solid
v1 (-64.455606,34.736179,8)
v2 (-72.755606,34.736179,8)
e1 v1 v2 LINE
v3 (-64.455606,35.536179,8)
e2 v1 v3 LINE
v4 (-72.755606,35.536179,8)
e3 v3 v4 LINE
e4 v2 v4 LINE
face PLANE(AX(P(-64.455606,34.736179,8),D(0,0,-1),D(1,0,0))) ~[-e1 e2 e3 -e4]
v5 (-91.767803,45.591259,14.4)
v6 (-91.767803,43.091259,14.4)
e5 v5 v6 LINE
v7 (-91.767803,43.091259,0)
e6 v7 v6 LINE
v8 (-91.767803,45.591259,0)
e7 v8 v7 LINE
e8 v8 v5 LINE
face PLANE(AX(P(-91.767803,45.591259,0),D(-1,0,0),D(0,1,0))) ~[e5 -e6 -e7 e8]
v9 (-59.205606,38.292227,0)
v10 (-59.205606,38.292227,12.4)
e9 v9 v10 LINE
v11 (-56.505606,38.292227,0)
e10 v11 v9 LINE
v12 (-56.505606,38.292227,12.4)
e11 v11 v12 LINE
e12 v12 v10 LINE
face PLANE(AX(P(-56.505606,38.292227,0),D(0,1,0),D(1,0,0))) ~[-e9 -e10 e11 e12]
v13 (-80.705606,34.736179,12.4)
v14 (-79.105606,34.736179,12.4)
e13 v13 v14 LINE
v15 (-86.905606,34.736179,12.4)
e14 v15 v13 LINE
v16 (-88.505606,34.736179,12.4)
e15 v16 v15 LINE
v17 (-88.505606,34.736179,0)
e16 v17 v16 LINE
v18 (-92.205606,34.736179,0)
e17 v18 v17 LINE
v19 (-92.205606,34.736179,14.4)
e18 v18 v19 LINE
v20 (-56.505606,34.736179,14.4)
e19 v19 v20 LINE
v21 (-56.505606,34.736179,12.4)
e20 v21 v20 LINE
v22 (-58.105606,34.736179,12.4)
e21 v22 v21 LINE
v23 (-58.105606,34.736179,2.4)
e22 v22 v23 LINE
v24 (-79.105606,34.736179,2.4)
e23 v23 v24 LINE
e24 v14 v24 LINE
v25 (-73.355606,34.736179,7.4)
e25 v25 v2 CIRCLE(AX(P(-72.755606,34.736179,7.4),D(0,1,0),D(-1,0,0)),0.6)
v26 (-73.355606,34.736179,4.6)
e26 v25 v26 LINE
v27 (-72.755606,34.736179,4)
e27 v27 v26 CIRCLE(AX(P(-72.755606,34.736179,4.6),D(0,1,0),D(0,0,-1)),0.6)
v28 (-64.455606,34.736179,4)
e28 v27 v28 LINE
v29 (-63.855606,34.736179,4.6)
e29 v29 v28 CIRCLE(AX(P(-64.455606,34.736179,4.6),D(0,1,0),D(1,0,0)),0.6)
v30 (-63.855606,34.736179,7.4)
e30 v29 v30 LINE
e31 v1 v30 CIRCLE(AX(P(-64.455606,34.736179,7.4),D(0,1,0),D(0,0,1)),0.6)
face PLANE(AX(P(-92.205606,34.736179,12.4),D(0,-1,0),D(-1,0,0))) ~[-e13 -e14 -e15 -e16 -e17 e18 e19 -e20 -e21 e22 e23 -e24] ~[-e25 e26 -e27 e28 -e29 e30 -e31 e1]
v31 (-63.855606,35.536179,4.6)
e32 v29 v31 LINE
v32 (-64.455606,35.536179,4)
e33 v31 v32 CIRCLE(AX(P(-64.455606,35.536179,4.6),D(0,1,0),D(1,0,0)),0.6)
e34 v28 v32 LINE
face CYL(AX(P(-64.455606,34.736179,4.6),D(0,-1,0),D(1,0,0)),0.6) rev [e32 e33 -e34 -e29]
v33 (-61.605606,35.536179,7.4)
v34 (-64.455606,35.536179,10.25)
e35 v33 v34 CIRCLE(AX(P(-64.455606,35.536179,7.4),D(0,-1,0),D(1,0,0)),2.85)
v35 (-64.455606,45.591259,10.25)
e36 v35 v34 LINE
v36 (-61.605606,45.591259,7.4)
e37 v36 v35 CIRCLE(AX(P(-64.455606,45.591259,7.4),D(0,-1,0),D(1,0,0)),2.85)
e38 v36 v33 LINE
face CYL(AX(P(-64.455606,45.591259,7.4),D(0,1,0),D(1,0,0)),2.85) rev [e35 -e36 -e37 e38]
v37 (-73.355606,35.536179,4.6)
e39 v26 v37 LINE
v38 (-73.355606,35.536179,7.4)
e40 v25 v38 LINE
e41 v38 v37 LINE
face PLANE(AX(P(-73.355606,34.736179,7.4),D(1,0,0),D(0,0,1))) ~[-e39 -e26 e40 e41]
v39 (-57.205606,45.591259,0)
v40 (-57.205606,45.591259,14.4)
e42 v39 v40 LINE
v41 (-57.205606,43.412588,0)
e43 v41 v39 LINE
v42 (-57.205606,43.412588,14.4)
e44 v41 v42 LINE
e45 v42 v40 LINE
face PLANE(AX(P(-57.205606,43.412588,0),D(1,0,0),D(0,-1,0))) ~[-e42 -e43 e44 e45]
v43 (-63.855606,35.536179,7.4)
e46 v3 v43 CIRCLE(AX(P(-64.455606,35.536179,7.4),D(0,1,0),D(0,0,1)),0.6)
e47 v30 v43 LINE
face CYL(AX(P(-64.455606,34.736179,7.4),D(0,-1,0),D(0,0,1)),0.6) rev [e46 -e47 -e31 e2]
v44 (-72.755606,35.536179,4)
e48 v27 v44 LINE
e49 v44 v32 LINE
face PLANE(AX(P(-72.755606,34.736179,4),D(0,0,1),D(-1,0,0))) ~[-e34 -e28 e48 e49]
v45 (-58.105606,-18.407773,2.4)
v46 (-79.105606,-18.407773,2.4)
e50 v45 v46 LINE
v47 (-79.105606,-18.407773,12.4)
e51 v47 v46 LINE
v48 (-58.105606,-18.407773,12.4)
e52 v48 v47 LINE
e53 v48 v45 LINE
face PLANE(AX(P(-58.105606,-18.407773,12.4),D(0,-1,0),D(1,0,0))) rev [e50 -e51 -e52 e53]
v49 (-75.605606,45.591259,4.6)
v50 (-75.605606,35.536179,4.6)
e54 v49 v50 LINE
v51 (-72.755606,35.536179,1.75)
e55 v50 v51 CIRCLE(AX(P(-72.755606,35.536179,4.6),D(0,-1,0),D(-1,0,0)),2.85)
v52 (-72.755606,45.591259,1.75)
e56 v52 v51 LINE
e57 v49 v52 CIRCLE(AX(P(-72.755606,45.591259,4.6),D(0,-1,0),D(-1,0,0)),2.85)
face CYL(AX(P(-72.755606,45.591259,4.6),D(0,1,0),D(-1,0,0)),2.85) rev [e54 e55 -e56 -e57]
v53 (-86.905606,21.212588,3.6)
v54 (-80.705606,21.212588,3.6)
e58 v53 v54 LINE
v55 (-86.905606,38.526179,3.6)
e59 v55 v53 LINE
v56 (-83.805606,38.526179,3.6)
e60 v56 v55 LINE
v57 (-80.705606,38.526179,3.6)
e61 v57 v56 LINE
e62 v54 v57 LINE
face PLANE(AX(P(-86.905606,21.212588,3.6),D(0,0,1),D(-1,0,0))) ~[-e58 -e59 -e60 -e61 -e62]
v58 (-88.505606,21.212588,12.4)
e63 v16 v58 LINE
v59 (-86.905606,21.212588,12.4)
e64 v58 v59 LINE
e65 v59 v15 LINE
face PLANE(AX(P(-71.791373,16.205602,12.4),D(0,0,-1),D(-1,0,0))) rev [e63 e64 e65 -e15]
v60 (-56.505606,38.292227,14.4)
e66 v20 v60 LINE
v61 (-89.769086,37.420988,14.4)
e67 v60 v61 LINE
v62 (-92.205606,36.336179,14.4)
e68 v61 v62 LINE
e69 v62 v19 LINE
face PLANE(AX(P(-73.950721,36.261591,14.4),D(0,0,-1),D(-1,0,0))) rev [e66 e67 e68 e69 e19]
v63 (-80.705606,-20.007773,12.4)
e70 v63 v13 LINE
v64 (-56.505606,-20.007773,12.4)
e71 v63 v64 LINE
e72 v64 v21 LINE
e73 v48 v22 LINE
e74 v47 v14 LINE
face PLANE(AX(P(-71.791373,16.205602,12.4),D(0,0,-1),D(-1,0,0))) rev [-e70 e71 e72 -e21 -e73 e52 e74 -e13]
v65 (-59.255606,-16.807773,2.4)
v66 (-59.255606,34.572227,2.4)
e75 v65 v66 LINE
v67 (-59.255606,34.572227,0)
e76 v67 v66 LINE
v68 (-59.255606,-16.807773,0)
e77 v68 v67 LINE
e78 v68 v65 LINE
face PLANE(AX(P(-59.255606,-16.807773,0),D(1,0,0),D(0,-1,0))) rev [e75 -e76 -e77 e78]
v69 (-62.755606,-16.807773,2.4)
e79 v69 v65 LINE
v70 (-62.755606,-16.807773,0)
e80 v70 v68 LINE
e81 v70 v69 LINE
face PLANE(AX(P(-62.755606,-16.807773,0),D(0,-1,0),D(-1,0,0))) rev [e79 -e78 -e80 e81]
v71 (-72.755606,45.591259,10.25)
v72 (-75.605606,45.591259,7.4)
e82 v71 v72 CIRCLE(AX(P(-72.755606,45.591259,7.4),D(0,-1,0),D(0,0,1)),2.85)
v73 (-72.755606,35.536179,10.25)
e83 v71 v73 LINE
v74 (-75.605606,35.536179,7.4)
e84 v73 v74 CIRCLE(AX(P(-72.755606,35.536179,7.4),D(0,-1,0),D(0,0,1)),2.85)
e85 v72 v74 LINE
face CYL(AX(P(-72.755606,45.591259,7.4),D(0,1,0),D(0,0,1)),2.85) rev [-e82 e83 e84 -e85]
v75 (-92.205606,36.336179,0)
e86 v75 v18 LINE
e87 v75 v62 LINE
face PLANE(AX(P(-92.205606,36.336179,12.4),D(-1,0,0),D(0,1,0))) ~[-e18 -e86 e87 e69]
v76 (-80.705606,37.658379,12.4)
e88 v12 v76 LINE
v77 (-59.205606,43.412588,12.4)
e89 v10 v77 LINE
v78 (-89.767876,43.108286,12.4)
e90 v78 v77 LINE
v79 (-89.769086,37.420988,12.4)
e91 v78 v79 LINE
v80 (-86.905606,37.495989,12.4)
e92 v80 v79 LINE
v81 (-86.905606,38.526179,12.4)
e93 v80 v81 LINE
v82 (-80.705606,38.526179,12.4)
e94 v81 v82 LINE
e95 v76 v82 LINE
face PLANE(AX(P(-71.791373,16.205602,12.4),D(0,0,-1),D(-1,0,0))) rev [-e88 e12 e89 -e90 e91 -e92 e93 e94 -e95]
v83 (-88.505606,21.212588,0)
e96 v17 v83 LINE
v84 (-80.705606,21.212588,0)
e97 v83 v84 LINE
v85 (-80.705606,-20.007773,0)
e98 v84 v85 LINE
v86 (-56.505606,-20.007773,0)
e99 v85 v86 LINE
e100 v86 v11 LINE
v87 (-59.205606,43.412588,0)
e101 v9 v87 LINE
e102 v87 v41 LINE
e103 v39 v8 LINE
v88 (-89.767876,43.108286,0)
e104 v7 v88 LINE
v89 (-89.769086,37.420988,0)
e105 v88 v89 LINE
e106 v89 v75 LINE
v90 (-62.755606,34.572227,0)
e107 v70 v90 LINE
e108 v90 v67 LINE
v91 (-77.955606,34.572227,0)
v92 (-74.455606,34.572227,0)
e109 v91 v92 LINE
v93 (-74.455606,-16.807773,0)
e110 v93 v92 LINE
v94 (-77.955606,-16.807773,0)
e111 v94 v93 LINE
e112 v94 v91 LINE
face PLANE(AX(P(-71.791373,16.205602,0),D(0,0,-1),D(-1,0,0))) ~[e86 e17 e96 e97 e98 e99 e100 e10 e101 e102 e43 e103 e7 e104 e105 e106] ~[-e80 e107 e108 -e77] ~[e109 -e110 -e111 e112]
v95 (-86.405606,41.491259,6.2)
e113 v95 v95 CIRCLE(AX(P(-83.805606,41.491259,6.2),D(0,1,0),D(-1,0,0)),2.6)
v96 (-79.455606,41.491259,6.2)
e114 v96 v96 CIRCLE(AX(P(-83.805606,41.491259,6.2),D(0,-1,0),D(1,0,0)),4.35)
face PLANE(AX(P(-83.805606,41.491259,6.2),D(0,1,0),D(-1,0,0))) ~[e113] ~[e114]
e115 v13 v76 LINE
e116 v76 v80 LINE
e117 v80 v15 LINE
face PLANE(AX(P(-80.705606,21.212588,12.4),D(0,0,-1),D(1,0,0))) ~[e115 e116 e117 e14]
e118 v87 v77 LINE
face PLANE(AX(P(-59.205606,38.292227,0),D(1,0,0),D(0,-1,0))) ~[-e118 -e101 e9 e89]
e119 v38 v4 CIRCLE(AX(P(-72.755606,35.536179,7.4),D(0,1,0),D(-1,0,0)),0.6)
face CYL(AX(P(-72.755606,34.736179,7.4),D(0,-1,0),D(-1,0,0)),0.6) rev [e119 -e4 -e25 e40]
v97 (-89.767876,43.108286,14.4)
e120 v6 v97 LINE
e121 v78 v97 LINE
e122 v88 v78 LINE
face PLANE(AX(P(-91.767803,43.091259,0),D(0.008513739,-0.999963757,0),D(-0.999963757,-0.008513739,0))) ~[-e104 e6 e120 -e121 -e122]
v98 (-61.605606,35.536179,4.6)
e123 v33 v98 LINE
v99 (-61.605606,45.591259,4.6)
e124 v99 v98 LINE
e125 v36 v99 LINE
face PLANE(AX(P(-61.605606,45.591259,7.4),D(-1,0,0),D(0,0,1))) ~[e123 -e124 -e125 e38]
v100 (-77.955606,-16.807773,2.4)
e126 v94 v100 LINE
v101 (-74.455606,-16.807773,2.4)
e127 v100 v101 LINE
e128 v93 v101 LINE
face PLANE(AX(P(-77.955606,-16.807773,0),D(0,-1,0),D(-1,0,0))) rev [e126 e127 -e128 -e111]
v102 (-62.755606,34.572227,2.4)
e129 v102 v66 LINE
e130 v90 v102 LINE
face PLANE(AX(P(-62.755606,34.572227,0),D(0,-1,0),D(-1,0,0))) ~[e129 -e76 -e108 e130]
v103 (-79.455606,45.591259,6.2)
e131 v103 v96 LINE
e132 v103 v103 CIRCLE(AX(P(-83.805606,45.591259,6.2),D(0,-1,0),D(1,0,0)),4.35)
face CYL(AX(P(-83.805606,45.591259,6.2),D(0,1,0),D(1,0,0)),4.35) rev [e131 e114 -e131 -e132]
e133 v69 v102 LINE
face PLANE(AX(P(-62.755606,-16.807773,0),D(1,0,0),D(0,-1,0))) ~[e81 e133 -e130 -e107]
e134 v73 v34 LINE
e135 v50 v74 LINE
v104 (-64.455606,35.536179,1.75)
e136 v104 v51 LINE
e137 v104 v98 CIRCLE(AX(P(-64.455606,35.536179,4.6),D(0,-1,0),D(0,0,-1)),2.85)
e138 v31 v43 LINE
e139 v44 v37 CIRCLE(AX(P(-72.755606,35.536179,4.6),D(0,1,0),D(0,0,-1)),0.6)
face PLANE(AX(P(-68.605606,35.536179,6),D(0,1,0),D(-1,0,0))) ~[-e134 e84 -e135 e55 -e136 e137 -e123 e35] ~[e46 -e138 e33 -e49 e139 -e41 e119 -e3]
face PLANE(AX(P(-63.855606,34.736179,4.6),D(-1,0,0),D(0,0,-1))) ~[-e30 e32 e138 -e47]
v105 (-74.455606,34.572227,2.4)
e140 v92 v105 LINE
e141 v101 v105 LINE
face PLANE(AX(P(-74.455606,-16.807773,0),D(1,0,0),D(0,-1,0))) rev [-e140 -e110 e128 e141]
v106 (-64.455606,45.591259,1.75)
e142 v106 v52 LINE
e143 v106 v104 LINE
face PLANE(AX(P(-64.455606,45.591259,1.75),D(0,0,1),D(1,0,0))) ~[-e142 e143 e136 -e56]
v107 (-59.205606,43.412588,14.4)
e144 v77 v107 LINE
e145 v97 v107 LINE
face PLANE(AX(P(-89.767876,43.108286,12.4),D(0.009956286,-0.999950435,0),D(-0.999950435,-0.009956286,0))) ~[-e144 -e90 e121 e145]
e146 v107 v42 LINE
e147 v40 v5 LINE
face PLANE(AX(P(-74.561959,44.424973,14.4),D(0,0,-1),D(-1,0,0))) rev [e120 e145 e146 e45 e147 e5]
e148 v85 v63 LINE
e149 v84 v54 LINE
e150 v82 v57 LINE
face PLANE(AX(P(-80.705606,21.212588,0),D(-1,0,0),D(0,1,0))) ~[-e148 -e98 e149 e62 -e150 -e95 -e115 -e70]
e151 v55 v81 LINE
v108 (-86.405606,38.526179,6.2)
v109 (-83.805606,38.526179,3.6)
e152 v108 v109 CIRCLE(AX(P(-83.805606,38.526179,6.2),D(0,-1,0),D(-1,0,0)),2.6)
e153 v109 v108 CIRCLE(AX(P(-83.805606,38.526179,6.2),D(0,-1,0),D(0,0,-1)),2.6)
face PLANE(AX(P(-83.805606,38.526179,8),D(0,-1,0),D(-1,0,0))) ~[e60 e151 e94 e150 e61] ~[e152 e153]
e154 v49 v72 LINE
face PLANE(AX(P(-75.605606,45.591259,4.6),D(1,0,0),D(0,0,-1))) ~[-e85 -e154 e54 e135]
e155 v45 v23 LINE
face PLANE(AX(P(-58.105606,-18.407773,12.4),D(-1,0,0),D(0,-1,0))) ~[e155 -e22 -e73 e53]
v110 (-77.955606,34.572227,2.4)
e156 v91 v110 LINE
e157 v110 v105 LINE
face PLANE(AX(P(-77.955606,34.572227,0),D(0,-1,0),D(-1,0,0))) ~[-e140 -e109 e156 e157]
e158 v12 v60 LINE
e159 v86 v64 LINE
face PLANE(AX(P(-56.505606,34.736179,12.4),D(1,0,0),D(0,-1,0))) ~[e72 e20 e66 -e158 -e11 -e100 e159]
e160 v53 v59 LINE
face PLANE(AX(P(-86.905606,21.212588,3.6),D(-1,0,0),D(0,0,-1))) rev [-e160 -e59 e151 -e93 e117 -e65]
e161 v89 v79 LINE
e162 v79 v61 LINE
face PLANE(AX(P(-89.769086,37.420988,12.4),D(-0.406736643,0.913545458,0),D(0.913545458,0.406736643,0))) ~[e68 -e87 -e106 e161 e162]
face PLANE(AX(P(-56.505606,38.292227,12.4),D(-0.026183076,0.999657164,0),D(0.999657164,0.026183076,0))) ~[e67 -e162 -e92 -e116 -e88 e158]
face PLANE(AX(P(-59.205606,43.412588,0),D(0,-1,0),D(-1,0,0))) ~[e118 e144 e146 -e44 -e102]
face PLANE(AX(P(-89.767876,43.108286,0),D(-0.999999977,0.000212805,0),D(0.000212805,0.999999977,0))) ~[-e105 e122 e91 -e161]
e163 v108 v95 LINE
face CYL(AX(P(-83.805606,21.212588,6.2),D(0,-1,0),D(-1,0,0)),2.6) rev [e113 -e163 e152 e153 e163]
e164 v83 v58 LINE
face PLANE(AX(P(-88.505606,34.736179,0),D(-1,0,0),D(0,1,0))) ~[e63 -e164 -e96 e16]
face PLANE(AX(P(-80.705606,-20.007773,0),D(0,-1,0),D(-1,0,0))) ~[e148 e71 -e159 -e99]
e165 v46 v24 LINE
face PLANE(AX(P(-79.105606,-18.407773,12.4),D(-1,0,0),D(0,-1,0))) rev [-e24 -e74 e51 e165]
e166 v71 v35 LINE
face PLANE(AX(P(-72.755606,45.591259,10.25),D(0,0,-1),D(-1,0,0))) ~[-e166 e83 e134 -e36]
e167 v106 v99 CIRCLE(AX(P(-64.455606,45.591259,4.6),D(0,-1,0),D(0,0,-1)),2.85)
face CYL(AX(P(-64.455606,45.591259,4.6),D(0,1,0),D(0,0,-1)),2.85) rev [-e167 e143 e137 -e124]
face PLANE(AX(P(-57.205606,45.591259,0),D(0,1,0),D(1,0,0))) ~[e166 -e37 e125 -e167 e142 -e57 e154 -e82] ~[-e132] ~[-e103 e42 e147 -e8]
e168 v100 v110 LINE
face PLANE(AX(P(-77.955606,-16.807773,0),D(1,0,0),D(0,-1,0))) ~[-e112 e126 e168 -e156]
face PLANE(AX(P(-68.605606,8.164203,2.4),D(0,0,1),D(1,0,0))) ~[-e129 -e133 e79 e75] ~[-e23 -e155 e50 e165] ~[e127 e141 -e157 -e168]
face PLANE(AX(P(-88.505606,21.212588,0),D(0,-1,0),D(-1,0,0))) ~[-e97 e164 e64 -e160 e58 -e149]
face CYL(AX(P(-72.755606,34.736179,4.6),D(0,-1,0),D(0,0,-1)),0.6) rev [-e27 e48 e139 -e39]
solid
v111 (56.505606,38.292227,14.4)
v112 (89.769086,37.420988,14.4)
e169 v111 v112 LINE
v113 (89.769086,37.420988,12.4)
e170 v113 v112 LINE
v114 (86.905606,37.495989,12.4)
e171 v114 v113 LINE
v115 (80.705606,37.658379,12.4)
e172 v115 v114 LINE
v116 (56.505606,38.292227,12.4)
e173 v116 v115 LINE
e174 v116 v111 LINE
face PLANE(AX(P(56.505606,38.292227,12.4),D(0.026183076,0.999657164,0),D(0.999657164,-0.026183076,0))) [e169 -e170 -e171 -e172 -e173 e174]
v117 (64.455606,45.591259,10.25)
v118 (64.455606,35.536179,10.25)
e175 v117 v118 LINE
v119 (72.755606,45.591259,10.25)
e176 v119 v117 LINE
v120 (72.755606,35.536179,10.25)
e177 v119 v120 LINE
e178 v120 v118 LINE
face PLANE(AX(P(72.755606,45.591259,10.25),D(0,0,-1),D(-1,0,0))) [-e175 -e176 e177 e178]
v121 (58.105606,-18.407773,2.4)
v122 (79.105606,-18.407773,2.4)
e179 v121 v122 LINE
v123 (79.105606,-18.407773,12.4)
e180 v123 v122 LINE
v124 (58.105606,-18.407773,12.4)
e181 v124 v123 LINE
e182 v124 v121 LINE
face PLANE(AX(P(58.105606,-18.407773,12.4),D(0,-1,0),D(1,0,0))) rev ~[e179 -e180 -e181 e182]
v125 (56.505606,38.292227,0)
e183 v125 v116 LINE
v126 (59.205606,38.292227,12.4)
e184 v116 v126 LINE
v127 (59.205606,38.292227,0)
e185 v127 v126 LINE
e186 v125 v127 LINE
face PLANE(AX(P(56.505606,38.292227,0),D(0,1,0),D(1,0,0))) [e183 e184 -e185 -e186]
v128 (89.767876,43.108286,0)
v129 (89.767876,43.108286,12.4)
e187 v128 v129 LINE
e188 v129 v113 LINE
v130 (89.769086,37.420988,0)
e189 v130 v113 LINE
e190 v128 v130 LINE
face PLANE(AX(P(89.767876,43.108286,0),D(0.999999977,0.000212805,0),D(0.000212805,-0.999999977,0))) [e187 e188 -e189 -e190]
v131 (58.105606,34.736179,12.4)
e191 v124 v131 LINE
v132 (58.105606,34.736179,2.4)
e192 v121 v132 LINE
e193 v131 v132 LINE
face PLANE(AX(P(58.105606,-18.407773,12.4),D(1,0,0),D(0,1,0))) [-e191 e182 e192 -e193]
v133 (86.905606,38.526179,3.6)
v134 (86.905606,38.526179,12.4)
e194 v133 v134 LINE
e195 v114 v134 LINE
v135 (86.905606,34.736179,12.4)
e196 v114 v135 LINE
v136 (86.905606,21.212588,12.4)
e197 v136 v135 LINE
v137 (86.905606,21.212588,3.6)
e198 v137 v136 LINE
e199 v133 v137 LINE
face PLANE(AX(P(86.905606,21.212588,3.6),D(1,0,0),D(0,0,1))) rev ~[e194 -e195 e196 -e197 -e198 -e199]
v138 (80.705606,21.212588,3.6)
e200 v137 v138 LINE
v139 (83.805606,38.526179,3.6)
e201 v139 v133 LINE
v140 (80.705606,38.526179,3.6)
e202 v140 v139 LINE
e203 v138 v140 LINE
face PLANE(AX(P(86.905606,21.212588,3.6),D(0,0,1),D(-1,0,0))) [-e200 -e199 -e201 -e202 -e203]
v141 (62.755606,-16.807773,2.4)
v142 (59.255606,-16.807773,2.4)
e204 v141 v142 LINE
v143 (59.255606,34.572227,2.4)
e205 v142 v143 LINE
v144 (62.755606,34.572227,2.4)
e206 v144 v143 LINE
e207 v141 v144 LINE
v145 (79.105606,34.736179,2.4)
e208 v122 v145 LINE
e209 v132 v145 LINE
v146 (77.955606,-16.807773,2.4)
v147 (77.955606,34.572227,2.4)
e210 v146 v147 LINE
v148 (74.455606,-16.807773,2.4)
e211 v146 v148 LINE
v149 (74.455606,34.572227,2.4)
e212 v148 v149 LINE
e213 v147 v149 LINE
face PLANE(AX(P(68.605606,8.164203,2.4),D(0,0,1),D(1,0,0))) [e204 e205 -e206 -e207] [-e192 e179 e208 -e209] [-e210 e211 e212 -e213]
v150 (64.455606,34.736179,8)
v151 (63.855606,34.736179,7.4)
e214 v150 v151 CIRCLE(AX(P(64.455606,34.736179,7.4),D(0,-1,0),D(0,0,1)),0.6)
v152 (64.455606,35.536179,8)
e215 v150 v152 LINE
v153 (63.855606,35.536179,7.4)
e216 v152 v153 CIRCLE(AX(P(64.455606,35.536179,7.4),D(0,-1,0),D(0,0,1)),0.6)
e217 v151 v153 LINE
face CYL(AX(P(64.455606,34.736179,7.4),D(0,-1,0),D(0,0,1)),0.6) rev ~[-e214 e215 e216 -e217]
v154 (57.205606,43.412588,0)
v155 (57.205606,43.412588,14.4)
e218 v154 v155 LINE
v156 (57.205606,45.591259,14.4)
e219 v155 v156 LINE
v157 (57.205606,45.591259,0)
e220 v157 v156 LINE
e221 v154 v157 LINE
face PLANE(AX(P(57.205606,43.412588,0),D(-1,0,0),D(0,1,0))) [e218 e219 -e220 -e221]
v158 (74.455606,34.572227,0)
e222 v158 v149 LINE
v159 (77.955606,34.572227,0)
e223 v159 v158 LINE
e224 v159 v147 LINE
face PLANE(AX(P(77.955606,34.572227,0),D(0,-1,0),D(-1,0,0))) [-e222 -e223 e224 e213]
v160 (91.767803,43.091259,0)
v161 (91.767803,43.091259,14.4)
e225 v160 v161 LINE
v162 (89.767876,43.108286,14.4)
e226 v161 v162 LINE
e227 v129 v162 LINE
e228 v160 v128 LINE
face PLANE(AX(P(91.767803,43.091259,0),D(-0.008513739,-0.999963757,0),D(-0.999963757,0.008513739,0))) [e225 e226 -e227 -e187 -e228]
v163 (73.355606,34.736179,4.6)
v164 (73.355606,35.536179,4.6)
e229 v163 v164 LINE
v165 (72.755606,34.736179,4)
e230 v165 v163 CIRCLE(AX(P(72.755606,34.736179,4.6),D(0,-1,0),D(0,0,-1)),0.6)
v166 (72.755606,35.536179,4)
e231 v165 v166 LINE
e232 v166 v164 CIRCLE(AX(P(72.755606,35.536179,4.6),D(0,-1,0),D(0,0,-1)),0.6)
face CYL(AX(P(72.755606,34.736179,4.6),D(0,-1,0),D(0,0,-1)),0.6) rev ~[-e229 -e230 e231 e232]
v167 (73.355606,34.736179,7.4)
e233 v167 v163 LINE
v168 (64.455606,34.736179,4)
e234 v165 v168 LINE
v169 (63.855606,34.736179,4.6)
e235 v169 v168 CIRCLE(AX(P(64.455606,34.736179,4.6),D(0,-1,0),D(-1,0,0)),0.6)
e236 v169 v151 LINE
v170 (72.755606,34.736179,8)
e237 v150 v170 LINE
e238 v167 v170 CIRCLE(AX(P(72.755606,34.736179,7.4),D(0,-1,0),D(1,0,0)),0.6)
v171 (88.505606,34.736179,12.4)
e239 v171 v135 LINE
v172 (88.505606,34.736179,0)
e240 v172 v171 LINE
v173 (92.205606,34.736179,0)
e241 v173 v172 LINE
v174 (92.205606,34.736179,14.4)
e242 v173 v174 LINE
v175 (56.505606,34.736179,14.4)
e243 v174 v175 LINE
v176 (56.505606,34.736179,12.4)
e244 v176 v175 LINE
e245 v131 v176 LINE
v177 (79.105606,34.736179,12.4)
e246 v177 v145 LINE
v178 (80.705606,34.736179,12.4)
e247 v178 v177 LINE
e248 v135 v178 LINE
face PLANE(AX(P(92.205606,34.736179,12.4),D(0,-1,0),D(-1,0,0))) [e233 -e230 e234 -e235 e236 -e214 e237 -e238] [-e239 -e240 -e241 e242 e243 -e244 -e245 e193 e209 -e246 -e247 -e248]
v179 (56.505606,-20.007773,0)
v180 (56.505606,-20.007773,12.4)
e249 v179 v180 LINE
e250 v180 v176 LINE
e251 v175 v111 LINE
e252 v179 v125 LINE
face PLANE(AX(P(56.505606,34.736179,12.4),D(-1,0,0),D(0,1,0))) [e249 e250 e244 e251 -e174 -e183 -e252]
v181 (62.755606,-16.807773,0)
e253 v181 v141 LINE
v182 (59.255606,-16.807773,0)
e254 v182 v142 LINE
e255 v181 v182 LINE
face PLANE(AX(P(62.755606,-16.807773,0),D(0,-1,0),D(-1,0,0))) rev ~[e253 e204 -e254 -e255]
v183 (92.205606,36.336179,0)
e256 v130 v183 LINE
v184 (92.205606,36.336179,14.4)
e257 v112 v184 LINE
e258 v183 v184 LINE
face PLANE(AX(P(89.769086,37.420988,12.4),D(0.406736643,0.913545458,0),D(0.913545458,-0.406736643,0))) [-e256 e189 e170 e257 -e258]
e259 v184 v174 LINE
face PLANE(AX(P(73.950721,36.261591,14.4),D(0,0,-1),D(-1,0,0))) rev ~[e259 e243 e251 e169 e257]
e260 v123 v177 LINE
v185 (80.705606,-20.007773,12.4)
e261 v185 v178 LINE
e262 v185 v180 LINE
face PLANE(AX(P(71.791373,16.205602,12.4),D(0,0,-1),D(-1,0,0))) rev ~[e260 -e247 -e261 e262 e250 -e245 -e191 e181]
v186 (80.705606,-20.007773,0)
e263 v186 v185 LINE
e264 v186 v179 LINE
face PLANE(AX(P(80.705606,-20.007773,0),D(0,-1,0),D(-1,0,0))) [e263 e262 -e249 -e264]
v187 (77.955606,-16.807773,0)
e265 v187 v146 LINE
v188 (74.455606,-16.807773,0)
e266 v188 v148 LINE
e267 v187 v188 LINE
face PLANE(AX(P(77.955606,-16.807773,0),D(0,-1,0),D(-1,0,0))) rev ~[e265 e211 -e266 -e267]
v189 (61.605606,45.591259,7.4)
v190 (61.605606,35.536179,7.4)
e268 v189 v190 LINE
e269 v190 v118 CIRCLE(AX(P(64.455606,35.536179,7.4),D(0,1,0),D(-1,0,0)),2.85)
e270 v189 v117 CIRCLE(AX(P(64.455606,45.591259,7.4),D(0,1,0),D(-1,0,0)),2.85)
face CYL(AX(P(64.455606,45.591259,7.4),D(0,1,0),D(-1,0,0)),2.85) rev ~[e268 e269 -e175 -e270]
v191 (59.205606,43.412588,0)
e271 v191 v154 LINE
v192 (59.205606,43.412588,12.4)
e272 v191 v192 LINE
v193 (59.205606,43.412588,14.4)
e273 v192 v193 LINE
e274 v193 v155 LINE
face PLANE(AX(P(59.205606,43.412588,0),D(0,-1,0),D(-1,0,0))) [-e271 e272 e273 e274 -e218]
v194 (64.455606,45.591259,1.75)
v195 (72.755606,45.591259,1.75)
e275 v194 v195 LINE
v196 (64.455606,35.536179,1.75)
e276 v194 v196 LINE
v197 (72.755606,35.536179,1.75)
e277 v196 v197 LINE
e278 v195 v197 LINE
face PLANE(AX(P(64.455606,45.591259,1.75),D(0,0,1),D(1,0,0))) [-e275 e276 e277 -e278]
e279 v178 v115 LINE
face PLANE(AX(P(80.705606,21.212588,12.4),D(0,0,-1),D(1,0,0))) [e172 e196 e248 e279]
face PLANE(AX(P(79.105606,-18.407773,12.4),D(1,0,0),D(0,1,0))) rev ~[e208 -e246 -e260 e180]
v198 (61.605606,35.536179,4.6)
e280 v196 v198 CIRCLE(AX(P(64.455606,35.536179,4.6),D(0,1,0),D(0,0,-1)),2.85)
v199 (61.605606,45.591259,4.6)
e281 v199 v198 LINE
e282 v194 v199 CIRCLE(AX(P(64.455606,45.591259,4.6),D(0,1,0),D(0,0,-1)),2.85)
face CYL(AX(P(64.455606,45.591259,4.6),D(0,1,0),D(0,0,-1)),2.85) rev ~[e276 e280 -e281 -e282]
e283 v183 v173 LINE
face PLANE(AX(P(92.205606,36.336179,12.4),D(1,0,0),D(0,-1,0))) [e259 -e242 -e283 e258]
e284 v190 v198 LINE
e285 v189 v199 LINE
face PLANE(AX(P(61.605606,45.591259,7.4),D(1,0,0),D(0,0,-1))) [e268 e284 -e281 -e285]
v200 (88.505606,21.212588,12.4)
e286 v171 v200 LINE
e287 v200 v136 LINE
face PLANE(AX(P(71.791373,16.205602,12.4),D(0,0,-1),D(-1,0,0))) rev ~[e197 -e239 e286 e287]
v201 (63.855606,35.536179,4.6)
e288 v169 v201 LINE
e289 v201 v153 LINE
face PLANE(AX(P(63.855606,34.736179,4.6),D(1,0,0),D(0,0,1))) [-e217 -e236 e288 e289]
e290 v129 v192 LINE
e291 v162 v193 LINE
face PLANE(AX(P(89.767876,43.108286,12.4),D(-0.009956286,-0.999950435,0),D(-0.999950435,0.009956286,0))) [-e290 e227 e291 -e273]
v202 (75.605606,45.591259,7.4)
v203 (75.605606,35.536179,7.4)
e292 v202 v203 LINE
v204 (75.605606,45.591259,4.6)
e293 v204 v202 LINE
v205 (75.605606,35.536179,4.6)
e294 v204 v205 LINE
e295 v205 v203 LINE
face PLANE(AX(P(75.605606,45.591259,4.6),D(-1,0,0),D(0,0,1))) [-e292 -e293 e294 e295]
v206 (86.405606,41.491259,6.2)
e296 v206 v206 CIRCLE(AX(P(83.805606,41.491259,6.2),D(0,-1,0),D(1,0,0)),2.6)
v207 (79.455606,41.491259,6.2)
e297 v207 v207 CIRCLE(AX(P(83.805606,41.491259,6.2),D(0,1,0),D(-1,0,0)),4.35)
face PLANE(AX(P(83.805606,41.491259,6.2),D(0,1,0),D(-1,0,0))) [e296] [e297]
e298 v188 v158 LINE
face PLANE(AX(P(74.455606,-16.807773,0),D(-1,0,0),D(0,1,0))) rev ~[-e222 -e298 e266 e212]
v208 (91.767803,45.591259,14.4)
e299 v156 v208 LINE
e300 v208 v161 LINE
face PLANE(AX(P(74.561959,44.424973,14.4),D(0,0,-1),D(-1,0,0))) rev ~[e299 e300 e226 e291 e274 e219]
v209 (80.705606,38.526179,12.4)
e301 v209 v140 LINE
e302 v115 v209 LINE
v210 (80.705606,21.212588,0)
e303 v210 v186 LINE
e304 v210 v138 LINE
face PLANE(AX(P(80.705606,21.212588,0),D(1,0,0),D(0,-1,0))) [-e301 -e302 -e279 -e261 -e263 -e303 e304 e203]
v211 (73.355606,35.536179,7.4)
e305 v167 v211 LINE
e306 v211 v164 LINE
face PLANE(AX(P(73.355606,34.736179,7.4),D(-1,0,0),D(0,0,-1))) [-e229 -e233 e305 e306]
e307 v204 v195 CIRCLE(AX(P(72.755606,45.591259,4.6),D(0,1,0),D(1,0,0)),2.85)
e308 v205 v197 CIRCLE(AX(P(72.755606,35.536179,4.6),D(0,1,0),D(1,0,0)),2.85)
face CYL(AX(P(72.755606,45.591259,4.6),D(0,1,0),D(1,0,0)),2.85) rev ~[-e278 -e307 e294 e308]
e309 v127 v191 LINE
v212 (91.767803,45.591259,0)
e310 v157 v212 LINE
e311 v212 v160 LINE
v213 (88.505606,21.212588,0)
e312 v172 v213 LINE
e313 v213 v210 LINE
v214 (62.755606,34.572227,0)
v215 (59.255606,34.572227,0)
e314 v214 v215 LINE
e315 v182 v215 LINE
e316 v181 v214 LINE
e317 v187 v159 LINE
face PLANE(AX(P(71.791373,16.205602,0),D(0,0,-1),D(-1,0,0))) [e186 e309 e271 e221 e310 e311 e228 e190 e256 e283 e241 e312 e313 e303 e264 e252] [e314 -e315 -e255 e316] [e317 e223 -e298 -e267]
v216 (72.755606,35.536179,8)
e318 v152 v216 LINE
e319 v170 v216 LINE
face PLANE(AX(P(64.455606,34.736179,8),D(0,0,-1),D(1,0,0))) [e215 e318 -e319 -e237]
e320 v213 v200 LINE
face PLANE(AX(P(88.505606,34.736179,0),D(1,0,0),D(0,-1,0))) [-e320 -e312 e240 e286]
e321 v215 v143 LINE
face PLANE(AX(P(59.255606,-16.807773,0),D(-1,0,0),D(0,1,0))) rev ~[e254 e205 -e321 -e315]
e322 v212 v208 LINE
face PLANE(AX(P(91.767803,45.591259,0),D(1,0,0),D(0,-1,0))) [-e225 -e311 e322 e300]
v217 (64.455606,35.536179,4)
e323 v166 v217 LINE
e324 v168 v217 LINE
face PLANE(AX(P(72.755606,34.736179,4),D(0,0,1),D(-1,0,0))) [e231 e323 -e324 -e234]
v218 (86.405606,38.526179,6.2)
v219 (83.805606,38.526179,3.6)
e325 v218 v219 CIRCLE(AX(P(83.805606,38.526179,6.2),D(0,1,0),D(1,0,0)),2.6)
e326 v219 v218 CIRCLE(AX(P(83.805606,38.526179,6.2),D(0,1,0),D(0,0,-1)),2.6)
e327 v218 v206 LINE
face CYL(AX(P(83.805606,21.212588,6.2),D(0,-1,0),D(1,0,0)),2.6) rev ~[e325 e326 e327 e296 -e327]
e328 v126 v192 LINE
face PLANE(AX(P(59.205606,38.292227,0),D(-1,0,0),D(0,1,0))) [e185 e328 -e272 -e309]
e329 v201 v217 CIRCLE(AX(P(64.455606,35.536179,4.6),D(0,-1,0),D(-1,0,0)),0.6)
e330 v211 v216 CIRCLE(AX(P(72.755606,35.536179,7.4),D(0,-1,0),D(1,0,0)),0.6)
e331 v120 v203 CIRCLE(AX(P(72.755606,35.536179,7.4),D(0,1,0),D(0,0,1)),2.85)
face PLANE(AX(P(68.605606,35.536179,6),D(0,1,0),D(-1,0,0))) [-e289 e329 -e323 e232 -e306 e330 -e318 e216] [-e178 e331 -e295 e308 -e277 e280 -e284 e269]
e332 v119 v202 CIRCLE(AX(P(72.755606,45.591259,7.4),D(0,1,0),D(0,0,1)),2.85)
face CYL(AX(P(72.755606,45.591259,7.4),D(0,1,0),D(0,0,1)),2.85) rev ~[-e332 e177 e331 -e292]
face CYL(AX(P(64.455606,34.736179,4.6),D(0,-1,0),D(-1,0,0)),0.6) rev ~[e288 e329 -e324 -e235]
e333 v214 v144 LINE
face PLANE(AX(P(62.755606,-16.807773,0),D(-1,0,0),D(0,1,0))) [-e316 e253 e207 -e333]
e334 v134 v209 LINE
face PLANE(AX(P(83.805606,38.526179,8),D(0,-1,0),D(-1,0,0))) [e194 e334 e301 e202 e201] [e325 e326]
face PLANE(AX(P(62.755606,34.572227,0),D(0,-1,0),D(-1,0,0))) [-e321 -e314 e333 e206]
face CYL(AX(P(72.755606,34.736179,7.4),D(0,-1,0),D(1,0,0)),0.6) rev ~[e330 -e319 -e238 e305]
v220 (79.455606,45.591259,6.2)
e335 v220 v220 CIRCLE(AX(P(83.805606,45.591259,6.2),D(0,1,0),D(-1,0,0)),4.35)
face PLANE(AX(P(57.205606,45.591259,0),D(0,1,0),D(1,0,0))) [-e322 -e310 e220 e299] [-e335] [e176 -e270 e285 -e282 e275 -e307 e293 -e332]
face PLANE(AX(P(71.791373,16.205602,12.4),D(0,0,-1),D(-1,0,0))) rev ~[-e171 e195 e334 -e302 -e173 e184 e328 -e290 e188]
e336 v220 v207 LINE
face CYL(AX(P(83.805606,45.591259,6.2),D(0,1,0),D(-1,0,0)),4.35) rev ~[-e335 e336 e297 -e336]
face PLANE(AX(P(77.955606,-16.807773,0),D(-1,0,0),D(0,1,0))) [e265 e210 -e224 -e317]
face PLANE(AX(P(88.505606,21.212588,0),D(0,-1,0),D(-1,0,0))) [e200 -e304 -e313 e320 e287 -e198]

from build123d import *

# Parameters (mm, degrees)
SKETCH008_W     = 3.5
SKETCH008_H     = 51.38
PAD002_DEPTH    = 12.4
PAD003_DEPTH    = 2
SKETCH010_W     = 21
SKETCH010_H     = 53.1439524112
POCKET006_DEPTH = 10
SKETCH011_R     = 2.6
POCKET007_DEPTH = 24.3796707343
POCKET008_DEPTH = 16.2235914112
SKETCH013_R     = 4.35
POCKET009_DEPTH = 4.1
POCKET010_DEPTH = 10.8560793232
POCKET011_DEPTH = 10.0550793232
POCKET_DEPTH    = 1.09
SKETCH016_W     = 3.5
SKETCH016_H     = 51.38
PAD004_DEPTH    = 12.4
PAD005_DEPTH    = 2
SKETCH018_W     = 21
SKETCH018_H     = 53.1439524112
POCKET013_DEPTH = 10
SKETCH019_R     = 2.6
POCKET014_DEPTH = 24.3796707343
POCKET015_DEPTH = 16.2235914112
SKETCH021_R     = 4.35
POCKET016_DEPTH = 4.1
POCKET017_DEPTH = 10.8560793232
POCKET018_DEPTH = 10.0550793232
POCKET012_DEPTH = 1.09


with BuildPart() as body001:
    # Sketch008 → Pad002 (new body)
    with BuildSketch(Plane(origin=(0, 0, 0), x_dir=(-1, 0, 0), z_dir=(0, 0, -1))):
        Polygon((-89.7690858187, 37.4209880882), (-92.205606, 36.3361794112), (-92.205606, 34.7361794112), (-88.505606, 34.7361794112), (-88.505606, 21.212588), (-80.705606, 21.212588), (-80.705606, -20.007773), (-56.505606, -20.007773), (-56.505606, 38.292227), (-59.205606, 38.292227), (-59.205606, 43.412588), (-57.205606, 43.412588), (-57.205606, 45.5912587343), (-91.7678030502, 45.5912587343), (-91.7678030502, 43.0912587343), (-89.7678755353, 43.1082862119), align=None)
        with Locations((-76.205606, 8.882227)):
            Rectangle(SKETCH008_W, SKETCH008_H, mode=Mode.SUBTRACT)
        with Locations((-61.005606, 8.882227)):
            Rectangle(SKETCH008_W, SKETCH008_H, mode=Mode.SUBTRACT)
    extrude(amount=-PAD002_DEPTH)

    # Sketch009 (on Face26 of Pad002) → Pad003 (join)
    with BuildSketch(Plane.XY.offset(12.4)):
        Polygon((92.205606, 34.7361794112), (56.505606, 34.7361794112), (56.505606, 38.292227), (89.7690858187, 37.4209880882), (92.205606, 36.3361794112), align=None)
        Polygon((59.205606, 43.412588), (57.205606, 43.412588), (57.205606, 45.5912587343), (91.7678030502, 45.5912587343), (91.7678030502, 43.0912587343), (89.7678755353, 43.1082862119), align=None)
    extrude(amount=PAD003_DEPTH)

    # Sketch010 (on Face36 of Pad003) → Pocket006 (cut)
    with BuildSketch(Plane.XY.offset(12.4)):
        with Locations((68.605606, 8.1642032056)):
            Rectangle(SKETCH010_W, SKETCH010_H)
    extrude(amount=-POCKET006_DEPTH, mode=Mode.SUBTRACT)

    # Sketch011 (on Face12 of Pocket006) → Pocket007 (cut, through all)
    with BuildSketch(Plane.XZ.offset(-21.212588)):
        with Locations((83.805606, 6.2)):
            Circle(SKETCH011_R)
    extrude(amount=-POCKET007_DEPTH, mode=Mode.SUBTRACT)

    # Sketch012 (on Face12 of Pocket007) → Pocket008 (cut)
    with BuildSketch(Plane.XZ.offset(-21.212588)):
        Polygon((86.905606, 8.8), (86.905606, 3.6), (80.705606, 3.6), (80.705606, 8.8), (80.705606, 12.4), (86.905606, 12.4), align=None)
    extrude(amount=-POCKET008_DEPTH, mode=Mode.SUBTRACT)

    # Sketch013 (on Face20 of Pocket008) → Pocket009 (cut)
    with BuildSketch(Plane(origin=(0, 45.5912587343, 0), x_dir=(-1, 0, 0), z_dir=(0, 1, 0))):
        with Locations((-83.805606, 6.2000000001)):
            Circle(SKETCH013_R)
    extrude(amount=-POCKET009_DEPTH, mode=Mode.SUBTRACT)

    # Sketch014 (on Face51 of Pocket009) → Pocket010 (cut, through all)
    with BuildSketch(Plane.XZ.offset(-34.7361794112)):
        with BuildLine():
            ThreePointArc((64.455606, 8), (64.0313419313, 7.8242640687), (63.855606, 7.4))
            Line((63.855606, 4.6), (63.855606, 7.4))
            ThreePointArc((63.855606, 4.6), (64.0313419313, 4.1757359313), (64.455606, 4))
            Line((72.755606, 4), (64.455606, 4))
            ThreePointArc((72.755606, 4), (73.1798700687, 4.1757359313), (73.355606, 4.6))
            Line((73.355606, 7.4), (73.355606, 4.6))
            ThreePointArc((73.355606, 7.4), (73.1798700687, 7.8242640687), (72.755606, 8))
            Line((64.455606, 8), (72.755606, 8))
        make_face()
    extrude(amount=-POCKET010_DEPTH, mode=Mode.SUBTRACT)

    # Sketch015 (on Face20 of Pocket010) → Pocket011 (cut)
    with BuildSketch(Plane(origin=(0, 45.5912587343, 0), x_dir=(-1, 0, 0), z_dir=(0, 1, 0))):
        with BuildLine():
            ThreePointArc((-72.755606, 10.25), (-74.7708603264, 9.4152543264), (-75.605606, 7.4))
            Line((-75.605606, 4.6), (-75.605606, 7.4))
            ThreePointArc((-75.605606, 4.6), (-74.7708603264, 2.5847456736), (-72.755606, 1.75))
            Line((-64.455606, 1.75), (-72.755606, 1.75))
            ThreePointArc((-64.455606, 1.75), (-62.4403516736, 2.5847456736), (-61.605606, 4.6))
            Line((-61.605606, 7.4), (-61.605606, 4.6))
            ThreePointArc((-61.605606, 7.4), (-62.4403516736, 9.4152543264), (-64.455606, 10.25))
            Line((-72.755606, 10.25), (-64.455606, 10.25))
        make_face()
    extrude(amount=-POCKET011_DEPTH, mode=Mode.SUBTRACT)

    # Pocket011 Face60 → Pocket (cut)
    with BuildSketch(Plane(origin=(83.805606, 37.4361794112, 9.147168329), x_dir=(-1, 0, 0), z_dir=(0, -1, 0))):
        Polygon((3.1, 0.347168329), (3.1, 5.547168329), (0, 5.547168329), (-3.1, 5.547168329), (-3.1, 0.347168329), (-3.1, -3.252831671), (3.1, -3.252831671), align=None)
        with BuildLine():
            ThreePointArc((-2.6, 2.947168329), (-1.8384776311, 4.7856459601), (0, 5.547168329))
            ThreePointArc((0, 5.547168329), (1.8384776311, 1.1086906979), (-2.6, 2.947168329))
        make_face(mode=Mode.SUBTRACT)
    extrude(amount=-POCKET_DEPTH, mode=Mode.SUBTRACT)


with BuildPart() as body002:
    # Sketch016 → Pad004 (new body)
    with BuildSketch(Plane(origin=(0, 0, 0), x_dir=(-1, 0, 0), z_dir=(0, 0, -1))):
        Polygon((-89.7690858187, 37.4209880882), (-92.205606, 36.3361794112), (-92.205606, 34.7361794112), (-88.505606, 34.7361794112), (-88.505606, 21.212588), (-80.705606, 21.212588), (-80.705606, -20.007773), (-56.505606, -20.007773), (-56.505606, 38.292227), (-59.205606, 38.292227), (-59.205606, 43.412588), (-57.205606, 43.412588), (-57.205606, 45.5912587343), (-91.7678030502, 45.5912587343), (-91.7678030502, 43.0912587343), (-89.7678755353, 43.1082862119), align=None)
        with Locations((-76.205606, 8.882227)):
            Rectangle(SKETCH016_W, SKETCH016_H, mode=Mode.SUBTRACT)
        with Locations((-61.005606, 8.882227)):
            Rectangle(SKETCH016_W, SKETCH016_H, mode=Mode.SUBTRACT)
    extrude(amount=-PAD004_DEPTH)

    # Sketch017 (on Face26 of Pad004) → Pad005 (join)
    with BuildSketch(Plane.XY.offset(12.4)):
        Polygon((92.205606, 34.7361794112), (56.505606, 34.7361794112), (56.505606, 38.292227), (89.7690858187, 37.4209880882), (92.205606, 36.3361794112), align=None)
        Polygon((59.205606, 43.412588), (57.205606, 43.412588), (57.205606, 45.5912587343), (91.7678030502, 45.5912587343), (91.7678030502, 43.0912587343), (89.7678755353, 43.1082862119), align=None)
    extrude(amount=PAD005_DEPTH)

    # Sketch018 (on Face36 of Pad005) → Pocket013 (cut)
    with BuildSketch(Plane.XY.offset(12.4)):
        with Locations((68.605606, 8.1642032056)):
            Rectangle(SKETCH018_W, SKETCH018_H)
    extrude(amount=-POCKET013_DEPTH, mode=Mode.SUBTRACT)

    # Sketch019 (on Face12 of Pocket013) → Pocket014 (cut, through all)
    with BuildSketch(Plane.XZ.offset(-21.212588)):
        with Locations((83.805606, 6.2)):
            Circle(SKETCH019_R)
    extrude(amount=-POCKET014_DEPTH, mode=Mode.SUBTRACT)

    # Sketch020 (on Face12 of Pocket014) → Pocket015 (cut)
    with BuildSketch(Plane.XZ.offset(-21.212588)):
        Polygon((86.905606, 8.8), (86.905606, 3.6), (80.705606, 3.6), (80.705606, 8.8), (80.705606, 12.4), (86.905606, 12.4), align=None)
    extrude(amount=-POCKET015_DEPTH, mode=Mode.SUBTRACT)

    # Sketch021 (on Face20 of Pocket015) → Pocket016 (cut)
    with BuildSketch(Plane(origin=(0, 45.5912587343, 0), x_dir=(-1, 0, 0), z_dir=(0, 1, 0))):
        with Locations((-83.805606, 6.2000000001)):
            Circle(SKETCH021_R)
    extrude(amount=-POCKET016_DEPTH, mode=Mode.SUBTRACT)

    # Sketch022 (on Face51 of Pocket016) → Pocket017 (cut, through all)
    with BuildSketch(Plane.XZ.offset(-34.7361794112)):
        with BuildLine():
            ThreePointArc((64.455606, 8), (64.0313419313, 7.8242640687), (63.855606, 7.4))
            Line((63.855606, 4.6), (63.855606, 7.4))
            ThreePointArc((63.855606, 4.6), (64.0313419313, 4.1757359313), (64.455606, 4))
            Line((72.755606, 4), (64.455606, 4))
            ThreePointArc((72.755606, 4), (73.1798700687, 4.1757359313), (73.355606, 4.6))
            Line((73.355606, 7.4), (73.355606, 4.6))
            ThreePointArc((73.355606, 7.4), (73.1798700687, 7.8242640687), (72.755606, 8))
            Line((64.455606, 8), (72.755606, 8))
        make_face()
    extrude(amount=-POCKET017_DEPTH, mode=Mode.SUBTRACT)

    # Sketch023 (on Face20 of Pocket017) → Pocket018 (cut)
    with BuildSketch(Plane(origin=(0, 45.5912587343, 0), x_dir=(-1, 0, 0), z_dir=(0, 1, 0))):
        with BuildLine():
            ThreePointArc((-72.755606, 10.25), (-74.7708603264, 9.4152543264), (-75.605606, 7.4))
            Line((-75.605606, 4.6), (-75.605606, 7.4))
            ThreePointArc((-75.605606, 4.6), (-74.7708603264, 2.5847456736), (-72.755606, 1.75))
            Line((-64.455606, 1.75), (-72.755606, 1.75))
            ThreePointArc((-64.455606, 1.75), (-62.4403516736, 2.5847456736), (-61.605606, 4.6))
            Line((-61.605606, 7.4), (-61.605606, 4.6))
            ThreePointArc((-61.605606, 7.4), (-62.4403516736, 9.4152543264), (-64.455606, 10.25))
            Line((-72.755606, 10.25), (-64.455606, 10.25))
        make_face()
    extrude(amount=-POCKET018_DEPTH, mode=Mode.SUBTRACT)

    # Pocket018 Face60 → Pocket012 (cut)
    with BuildSketch(Plane(origin=(83.805606, 37.4361794112, 9.147168329), x_dir=(-1, 0, 0), z_dir=(0, -1, 0))):
        Polygon((3.1, 0.347168329), (3.1, 5.547168329), (0, 5.547168329), (-3.1, 5.547168329), (-3.1, 0.347168329), (-3.1, -3.252831671), (3.1, -3.252831671), align=None)
        with BuildLine():
            ThreePointArc((-2.6, 2.947168329), (-1.8384776311, 4.7856459601), (0, 5.547168329))
            ThreePointArc((0, 5.547168329), (1.8384776311, 1.1086906979), (-2.6, 2.947168329))
        make_face(mode=Mode.SUBTRACT)
    extrude(amount=-POCKET012_DEPTH, mode=Mode.SUBTRACT)


with BuildPart() as part_mirroring:
    # Part__Mirroring: instance of Body002
    add(body002.part.mirror(Plane(origin=(0, 0, 0), x_dir=(0, -1, 0), z_dir=(1, 0, 0))))


solid = Compound([body001.part, part_mirroring.part])
